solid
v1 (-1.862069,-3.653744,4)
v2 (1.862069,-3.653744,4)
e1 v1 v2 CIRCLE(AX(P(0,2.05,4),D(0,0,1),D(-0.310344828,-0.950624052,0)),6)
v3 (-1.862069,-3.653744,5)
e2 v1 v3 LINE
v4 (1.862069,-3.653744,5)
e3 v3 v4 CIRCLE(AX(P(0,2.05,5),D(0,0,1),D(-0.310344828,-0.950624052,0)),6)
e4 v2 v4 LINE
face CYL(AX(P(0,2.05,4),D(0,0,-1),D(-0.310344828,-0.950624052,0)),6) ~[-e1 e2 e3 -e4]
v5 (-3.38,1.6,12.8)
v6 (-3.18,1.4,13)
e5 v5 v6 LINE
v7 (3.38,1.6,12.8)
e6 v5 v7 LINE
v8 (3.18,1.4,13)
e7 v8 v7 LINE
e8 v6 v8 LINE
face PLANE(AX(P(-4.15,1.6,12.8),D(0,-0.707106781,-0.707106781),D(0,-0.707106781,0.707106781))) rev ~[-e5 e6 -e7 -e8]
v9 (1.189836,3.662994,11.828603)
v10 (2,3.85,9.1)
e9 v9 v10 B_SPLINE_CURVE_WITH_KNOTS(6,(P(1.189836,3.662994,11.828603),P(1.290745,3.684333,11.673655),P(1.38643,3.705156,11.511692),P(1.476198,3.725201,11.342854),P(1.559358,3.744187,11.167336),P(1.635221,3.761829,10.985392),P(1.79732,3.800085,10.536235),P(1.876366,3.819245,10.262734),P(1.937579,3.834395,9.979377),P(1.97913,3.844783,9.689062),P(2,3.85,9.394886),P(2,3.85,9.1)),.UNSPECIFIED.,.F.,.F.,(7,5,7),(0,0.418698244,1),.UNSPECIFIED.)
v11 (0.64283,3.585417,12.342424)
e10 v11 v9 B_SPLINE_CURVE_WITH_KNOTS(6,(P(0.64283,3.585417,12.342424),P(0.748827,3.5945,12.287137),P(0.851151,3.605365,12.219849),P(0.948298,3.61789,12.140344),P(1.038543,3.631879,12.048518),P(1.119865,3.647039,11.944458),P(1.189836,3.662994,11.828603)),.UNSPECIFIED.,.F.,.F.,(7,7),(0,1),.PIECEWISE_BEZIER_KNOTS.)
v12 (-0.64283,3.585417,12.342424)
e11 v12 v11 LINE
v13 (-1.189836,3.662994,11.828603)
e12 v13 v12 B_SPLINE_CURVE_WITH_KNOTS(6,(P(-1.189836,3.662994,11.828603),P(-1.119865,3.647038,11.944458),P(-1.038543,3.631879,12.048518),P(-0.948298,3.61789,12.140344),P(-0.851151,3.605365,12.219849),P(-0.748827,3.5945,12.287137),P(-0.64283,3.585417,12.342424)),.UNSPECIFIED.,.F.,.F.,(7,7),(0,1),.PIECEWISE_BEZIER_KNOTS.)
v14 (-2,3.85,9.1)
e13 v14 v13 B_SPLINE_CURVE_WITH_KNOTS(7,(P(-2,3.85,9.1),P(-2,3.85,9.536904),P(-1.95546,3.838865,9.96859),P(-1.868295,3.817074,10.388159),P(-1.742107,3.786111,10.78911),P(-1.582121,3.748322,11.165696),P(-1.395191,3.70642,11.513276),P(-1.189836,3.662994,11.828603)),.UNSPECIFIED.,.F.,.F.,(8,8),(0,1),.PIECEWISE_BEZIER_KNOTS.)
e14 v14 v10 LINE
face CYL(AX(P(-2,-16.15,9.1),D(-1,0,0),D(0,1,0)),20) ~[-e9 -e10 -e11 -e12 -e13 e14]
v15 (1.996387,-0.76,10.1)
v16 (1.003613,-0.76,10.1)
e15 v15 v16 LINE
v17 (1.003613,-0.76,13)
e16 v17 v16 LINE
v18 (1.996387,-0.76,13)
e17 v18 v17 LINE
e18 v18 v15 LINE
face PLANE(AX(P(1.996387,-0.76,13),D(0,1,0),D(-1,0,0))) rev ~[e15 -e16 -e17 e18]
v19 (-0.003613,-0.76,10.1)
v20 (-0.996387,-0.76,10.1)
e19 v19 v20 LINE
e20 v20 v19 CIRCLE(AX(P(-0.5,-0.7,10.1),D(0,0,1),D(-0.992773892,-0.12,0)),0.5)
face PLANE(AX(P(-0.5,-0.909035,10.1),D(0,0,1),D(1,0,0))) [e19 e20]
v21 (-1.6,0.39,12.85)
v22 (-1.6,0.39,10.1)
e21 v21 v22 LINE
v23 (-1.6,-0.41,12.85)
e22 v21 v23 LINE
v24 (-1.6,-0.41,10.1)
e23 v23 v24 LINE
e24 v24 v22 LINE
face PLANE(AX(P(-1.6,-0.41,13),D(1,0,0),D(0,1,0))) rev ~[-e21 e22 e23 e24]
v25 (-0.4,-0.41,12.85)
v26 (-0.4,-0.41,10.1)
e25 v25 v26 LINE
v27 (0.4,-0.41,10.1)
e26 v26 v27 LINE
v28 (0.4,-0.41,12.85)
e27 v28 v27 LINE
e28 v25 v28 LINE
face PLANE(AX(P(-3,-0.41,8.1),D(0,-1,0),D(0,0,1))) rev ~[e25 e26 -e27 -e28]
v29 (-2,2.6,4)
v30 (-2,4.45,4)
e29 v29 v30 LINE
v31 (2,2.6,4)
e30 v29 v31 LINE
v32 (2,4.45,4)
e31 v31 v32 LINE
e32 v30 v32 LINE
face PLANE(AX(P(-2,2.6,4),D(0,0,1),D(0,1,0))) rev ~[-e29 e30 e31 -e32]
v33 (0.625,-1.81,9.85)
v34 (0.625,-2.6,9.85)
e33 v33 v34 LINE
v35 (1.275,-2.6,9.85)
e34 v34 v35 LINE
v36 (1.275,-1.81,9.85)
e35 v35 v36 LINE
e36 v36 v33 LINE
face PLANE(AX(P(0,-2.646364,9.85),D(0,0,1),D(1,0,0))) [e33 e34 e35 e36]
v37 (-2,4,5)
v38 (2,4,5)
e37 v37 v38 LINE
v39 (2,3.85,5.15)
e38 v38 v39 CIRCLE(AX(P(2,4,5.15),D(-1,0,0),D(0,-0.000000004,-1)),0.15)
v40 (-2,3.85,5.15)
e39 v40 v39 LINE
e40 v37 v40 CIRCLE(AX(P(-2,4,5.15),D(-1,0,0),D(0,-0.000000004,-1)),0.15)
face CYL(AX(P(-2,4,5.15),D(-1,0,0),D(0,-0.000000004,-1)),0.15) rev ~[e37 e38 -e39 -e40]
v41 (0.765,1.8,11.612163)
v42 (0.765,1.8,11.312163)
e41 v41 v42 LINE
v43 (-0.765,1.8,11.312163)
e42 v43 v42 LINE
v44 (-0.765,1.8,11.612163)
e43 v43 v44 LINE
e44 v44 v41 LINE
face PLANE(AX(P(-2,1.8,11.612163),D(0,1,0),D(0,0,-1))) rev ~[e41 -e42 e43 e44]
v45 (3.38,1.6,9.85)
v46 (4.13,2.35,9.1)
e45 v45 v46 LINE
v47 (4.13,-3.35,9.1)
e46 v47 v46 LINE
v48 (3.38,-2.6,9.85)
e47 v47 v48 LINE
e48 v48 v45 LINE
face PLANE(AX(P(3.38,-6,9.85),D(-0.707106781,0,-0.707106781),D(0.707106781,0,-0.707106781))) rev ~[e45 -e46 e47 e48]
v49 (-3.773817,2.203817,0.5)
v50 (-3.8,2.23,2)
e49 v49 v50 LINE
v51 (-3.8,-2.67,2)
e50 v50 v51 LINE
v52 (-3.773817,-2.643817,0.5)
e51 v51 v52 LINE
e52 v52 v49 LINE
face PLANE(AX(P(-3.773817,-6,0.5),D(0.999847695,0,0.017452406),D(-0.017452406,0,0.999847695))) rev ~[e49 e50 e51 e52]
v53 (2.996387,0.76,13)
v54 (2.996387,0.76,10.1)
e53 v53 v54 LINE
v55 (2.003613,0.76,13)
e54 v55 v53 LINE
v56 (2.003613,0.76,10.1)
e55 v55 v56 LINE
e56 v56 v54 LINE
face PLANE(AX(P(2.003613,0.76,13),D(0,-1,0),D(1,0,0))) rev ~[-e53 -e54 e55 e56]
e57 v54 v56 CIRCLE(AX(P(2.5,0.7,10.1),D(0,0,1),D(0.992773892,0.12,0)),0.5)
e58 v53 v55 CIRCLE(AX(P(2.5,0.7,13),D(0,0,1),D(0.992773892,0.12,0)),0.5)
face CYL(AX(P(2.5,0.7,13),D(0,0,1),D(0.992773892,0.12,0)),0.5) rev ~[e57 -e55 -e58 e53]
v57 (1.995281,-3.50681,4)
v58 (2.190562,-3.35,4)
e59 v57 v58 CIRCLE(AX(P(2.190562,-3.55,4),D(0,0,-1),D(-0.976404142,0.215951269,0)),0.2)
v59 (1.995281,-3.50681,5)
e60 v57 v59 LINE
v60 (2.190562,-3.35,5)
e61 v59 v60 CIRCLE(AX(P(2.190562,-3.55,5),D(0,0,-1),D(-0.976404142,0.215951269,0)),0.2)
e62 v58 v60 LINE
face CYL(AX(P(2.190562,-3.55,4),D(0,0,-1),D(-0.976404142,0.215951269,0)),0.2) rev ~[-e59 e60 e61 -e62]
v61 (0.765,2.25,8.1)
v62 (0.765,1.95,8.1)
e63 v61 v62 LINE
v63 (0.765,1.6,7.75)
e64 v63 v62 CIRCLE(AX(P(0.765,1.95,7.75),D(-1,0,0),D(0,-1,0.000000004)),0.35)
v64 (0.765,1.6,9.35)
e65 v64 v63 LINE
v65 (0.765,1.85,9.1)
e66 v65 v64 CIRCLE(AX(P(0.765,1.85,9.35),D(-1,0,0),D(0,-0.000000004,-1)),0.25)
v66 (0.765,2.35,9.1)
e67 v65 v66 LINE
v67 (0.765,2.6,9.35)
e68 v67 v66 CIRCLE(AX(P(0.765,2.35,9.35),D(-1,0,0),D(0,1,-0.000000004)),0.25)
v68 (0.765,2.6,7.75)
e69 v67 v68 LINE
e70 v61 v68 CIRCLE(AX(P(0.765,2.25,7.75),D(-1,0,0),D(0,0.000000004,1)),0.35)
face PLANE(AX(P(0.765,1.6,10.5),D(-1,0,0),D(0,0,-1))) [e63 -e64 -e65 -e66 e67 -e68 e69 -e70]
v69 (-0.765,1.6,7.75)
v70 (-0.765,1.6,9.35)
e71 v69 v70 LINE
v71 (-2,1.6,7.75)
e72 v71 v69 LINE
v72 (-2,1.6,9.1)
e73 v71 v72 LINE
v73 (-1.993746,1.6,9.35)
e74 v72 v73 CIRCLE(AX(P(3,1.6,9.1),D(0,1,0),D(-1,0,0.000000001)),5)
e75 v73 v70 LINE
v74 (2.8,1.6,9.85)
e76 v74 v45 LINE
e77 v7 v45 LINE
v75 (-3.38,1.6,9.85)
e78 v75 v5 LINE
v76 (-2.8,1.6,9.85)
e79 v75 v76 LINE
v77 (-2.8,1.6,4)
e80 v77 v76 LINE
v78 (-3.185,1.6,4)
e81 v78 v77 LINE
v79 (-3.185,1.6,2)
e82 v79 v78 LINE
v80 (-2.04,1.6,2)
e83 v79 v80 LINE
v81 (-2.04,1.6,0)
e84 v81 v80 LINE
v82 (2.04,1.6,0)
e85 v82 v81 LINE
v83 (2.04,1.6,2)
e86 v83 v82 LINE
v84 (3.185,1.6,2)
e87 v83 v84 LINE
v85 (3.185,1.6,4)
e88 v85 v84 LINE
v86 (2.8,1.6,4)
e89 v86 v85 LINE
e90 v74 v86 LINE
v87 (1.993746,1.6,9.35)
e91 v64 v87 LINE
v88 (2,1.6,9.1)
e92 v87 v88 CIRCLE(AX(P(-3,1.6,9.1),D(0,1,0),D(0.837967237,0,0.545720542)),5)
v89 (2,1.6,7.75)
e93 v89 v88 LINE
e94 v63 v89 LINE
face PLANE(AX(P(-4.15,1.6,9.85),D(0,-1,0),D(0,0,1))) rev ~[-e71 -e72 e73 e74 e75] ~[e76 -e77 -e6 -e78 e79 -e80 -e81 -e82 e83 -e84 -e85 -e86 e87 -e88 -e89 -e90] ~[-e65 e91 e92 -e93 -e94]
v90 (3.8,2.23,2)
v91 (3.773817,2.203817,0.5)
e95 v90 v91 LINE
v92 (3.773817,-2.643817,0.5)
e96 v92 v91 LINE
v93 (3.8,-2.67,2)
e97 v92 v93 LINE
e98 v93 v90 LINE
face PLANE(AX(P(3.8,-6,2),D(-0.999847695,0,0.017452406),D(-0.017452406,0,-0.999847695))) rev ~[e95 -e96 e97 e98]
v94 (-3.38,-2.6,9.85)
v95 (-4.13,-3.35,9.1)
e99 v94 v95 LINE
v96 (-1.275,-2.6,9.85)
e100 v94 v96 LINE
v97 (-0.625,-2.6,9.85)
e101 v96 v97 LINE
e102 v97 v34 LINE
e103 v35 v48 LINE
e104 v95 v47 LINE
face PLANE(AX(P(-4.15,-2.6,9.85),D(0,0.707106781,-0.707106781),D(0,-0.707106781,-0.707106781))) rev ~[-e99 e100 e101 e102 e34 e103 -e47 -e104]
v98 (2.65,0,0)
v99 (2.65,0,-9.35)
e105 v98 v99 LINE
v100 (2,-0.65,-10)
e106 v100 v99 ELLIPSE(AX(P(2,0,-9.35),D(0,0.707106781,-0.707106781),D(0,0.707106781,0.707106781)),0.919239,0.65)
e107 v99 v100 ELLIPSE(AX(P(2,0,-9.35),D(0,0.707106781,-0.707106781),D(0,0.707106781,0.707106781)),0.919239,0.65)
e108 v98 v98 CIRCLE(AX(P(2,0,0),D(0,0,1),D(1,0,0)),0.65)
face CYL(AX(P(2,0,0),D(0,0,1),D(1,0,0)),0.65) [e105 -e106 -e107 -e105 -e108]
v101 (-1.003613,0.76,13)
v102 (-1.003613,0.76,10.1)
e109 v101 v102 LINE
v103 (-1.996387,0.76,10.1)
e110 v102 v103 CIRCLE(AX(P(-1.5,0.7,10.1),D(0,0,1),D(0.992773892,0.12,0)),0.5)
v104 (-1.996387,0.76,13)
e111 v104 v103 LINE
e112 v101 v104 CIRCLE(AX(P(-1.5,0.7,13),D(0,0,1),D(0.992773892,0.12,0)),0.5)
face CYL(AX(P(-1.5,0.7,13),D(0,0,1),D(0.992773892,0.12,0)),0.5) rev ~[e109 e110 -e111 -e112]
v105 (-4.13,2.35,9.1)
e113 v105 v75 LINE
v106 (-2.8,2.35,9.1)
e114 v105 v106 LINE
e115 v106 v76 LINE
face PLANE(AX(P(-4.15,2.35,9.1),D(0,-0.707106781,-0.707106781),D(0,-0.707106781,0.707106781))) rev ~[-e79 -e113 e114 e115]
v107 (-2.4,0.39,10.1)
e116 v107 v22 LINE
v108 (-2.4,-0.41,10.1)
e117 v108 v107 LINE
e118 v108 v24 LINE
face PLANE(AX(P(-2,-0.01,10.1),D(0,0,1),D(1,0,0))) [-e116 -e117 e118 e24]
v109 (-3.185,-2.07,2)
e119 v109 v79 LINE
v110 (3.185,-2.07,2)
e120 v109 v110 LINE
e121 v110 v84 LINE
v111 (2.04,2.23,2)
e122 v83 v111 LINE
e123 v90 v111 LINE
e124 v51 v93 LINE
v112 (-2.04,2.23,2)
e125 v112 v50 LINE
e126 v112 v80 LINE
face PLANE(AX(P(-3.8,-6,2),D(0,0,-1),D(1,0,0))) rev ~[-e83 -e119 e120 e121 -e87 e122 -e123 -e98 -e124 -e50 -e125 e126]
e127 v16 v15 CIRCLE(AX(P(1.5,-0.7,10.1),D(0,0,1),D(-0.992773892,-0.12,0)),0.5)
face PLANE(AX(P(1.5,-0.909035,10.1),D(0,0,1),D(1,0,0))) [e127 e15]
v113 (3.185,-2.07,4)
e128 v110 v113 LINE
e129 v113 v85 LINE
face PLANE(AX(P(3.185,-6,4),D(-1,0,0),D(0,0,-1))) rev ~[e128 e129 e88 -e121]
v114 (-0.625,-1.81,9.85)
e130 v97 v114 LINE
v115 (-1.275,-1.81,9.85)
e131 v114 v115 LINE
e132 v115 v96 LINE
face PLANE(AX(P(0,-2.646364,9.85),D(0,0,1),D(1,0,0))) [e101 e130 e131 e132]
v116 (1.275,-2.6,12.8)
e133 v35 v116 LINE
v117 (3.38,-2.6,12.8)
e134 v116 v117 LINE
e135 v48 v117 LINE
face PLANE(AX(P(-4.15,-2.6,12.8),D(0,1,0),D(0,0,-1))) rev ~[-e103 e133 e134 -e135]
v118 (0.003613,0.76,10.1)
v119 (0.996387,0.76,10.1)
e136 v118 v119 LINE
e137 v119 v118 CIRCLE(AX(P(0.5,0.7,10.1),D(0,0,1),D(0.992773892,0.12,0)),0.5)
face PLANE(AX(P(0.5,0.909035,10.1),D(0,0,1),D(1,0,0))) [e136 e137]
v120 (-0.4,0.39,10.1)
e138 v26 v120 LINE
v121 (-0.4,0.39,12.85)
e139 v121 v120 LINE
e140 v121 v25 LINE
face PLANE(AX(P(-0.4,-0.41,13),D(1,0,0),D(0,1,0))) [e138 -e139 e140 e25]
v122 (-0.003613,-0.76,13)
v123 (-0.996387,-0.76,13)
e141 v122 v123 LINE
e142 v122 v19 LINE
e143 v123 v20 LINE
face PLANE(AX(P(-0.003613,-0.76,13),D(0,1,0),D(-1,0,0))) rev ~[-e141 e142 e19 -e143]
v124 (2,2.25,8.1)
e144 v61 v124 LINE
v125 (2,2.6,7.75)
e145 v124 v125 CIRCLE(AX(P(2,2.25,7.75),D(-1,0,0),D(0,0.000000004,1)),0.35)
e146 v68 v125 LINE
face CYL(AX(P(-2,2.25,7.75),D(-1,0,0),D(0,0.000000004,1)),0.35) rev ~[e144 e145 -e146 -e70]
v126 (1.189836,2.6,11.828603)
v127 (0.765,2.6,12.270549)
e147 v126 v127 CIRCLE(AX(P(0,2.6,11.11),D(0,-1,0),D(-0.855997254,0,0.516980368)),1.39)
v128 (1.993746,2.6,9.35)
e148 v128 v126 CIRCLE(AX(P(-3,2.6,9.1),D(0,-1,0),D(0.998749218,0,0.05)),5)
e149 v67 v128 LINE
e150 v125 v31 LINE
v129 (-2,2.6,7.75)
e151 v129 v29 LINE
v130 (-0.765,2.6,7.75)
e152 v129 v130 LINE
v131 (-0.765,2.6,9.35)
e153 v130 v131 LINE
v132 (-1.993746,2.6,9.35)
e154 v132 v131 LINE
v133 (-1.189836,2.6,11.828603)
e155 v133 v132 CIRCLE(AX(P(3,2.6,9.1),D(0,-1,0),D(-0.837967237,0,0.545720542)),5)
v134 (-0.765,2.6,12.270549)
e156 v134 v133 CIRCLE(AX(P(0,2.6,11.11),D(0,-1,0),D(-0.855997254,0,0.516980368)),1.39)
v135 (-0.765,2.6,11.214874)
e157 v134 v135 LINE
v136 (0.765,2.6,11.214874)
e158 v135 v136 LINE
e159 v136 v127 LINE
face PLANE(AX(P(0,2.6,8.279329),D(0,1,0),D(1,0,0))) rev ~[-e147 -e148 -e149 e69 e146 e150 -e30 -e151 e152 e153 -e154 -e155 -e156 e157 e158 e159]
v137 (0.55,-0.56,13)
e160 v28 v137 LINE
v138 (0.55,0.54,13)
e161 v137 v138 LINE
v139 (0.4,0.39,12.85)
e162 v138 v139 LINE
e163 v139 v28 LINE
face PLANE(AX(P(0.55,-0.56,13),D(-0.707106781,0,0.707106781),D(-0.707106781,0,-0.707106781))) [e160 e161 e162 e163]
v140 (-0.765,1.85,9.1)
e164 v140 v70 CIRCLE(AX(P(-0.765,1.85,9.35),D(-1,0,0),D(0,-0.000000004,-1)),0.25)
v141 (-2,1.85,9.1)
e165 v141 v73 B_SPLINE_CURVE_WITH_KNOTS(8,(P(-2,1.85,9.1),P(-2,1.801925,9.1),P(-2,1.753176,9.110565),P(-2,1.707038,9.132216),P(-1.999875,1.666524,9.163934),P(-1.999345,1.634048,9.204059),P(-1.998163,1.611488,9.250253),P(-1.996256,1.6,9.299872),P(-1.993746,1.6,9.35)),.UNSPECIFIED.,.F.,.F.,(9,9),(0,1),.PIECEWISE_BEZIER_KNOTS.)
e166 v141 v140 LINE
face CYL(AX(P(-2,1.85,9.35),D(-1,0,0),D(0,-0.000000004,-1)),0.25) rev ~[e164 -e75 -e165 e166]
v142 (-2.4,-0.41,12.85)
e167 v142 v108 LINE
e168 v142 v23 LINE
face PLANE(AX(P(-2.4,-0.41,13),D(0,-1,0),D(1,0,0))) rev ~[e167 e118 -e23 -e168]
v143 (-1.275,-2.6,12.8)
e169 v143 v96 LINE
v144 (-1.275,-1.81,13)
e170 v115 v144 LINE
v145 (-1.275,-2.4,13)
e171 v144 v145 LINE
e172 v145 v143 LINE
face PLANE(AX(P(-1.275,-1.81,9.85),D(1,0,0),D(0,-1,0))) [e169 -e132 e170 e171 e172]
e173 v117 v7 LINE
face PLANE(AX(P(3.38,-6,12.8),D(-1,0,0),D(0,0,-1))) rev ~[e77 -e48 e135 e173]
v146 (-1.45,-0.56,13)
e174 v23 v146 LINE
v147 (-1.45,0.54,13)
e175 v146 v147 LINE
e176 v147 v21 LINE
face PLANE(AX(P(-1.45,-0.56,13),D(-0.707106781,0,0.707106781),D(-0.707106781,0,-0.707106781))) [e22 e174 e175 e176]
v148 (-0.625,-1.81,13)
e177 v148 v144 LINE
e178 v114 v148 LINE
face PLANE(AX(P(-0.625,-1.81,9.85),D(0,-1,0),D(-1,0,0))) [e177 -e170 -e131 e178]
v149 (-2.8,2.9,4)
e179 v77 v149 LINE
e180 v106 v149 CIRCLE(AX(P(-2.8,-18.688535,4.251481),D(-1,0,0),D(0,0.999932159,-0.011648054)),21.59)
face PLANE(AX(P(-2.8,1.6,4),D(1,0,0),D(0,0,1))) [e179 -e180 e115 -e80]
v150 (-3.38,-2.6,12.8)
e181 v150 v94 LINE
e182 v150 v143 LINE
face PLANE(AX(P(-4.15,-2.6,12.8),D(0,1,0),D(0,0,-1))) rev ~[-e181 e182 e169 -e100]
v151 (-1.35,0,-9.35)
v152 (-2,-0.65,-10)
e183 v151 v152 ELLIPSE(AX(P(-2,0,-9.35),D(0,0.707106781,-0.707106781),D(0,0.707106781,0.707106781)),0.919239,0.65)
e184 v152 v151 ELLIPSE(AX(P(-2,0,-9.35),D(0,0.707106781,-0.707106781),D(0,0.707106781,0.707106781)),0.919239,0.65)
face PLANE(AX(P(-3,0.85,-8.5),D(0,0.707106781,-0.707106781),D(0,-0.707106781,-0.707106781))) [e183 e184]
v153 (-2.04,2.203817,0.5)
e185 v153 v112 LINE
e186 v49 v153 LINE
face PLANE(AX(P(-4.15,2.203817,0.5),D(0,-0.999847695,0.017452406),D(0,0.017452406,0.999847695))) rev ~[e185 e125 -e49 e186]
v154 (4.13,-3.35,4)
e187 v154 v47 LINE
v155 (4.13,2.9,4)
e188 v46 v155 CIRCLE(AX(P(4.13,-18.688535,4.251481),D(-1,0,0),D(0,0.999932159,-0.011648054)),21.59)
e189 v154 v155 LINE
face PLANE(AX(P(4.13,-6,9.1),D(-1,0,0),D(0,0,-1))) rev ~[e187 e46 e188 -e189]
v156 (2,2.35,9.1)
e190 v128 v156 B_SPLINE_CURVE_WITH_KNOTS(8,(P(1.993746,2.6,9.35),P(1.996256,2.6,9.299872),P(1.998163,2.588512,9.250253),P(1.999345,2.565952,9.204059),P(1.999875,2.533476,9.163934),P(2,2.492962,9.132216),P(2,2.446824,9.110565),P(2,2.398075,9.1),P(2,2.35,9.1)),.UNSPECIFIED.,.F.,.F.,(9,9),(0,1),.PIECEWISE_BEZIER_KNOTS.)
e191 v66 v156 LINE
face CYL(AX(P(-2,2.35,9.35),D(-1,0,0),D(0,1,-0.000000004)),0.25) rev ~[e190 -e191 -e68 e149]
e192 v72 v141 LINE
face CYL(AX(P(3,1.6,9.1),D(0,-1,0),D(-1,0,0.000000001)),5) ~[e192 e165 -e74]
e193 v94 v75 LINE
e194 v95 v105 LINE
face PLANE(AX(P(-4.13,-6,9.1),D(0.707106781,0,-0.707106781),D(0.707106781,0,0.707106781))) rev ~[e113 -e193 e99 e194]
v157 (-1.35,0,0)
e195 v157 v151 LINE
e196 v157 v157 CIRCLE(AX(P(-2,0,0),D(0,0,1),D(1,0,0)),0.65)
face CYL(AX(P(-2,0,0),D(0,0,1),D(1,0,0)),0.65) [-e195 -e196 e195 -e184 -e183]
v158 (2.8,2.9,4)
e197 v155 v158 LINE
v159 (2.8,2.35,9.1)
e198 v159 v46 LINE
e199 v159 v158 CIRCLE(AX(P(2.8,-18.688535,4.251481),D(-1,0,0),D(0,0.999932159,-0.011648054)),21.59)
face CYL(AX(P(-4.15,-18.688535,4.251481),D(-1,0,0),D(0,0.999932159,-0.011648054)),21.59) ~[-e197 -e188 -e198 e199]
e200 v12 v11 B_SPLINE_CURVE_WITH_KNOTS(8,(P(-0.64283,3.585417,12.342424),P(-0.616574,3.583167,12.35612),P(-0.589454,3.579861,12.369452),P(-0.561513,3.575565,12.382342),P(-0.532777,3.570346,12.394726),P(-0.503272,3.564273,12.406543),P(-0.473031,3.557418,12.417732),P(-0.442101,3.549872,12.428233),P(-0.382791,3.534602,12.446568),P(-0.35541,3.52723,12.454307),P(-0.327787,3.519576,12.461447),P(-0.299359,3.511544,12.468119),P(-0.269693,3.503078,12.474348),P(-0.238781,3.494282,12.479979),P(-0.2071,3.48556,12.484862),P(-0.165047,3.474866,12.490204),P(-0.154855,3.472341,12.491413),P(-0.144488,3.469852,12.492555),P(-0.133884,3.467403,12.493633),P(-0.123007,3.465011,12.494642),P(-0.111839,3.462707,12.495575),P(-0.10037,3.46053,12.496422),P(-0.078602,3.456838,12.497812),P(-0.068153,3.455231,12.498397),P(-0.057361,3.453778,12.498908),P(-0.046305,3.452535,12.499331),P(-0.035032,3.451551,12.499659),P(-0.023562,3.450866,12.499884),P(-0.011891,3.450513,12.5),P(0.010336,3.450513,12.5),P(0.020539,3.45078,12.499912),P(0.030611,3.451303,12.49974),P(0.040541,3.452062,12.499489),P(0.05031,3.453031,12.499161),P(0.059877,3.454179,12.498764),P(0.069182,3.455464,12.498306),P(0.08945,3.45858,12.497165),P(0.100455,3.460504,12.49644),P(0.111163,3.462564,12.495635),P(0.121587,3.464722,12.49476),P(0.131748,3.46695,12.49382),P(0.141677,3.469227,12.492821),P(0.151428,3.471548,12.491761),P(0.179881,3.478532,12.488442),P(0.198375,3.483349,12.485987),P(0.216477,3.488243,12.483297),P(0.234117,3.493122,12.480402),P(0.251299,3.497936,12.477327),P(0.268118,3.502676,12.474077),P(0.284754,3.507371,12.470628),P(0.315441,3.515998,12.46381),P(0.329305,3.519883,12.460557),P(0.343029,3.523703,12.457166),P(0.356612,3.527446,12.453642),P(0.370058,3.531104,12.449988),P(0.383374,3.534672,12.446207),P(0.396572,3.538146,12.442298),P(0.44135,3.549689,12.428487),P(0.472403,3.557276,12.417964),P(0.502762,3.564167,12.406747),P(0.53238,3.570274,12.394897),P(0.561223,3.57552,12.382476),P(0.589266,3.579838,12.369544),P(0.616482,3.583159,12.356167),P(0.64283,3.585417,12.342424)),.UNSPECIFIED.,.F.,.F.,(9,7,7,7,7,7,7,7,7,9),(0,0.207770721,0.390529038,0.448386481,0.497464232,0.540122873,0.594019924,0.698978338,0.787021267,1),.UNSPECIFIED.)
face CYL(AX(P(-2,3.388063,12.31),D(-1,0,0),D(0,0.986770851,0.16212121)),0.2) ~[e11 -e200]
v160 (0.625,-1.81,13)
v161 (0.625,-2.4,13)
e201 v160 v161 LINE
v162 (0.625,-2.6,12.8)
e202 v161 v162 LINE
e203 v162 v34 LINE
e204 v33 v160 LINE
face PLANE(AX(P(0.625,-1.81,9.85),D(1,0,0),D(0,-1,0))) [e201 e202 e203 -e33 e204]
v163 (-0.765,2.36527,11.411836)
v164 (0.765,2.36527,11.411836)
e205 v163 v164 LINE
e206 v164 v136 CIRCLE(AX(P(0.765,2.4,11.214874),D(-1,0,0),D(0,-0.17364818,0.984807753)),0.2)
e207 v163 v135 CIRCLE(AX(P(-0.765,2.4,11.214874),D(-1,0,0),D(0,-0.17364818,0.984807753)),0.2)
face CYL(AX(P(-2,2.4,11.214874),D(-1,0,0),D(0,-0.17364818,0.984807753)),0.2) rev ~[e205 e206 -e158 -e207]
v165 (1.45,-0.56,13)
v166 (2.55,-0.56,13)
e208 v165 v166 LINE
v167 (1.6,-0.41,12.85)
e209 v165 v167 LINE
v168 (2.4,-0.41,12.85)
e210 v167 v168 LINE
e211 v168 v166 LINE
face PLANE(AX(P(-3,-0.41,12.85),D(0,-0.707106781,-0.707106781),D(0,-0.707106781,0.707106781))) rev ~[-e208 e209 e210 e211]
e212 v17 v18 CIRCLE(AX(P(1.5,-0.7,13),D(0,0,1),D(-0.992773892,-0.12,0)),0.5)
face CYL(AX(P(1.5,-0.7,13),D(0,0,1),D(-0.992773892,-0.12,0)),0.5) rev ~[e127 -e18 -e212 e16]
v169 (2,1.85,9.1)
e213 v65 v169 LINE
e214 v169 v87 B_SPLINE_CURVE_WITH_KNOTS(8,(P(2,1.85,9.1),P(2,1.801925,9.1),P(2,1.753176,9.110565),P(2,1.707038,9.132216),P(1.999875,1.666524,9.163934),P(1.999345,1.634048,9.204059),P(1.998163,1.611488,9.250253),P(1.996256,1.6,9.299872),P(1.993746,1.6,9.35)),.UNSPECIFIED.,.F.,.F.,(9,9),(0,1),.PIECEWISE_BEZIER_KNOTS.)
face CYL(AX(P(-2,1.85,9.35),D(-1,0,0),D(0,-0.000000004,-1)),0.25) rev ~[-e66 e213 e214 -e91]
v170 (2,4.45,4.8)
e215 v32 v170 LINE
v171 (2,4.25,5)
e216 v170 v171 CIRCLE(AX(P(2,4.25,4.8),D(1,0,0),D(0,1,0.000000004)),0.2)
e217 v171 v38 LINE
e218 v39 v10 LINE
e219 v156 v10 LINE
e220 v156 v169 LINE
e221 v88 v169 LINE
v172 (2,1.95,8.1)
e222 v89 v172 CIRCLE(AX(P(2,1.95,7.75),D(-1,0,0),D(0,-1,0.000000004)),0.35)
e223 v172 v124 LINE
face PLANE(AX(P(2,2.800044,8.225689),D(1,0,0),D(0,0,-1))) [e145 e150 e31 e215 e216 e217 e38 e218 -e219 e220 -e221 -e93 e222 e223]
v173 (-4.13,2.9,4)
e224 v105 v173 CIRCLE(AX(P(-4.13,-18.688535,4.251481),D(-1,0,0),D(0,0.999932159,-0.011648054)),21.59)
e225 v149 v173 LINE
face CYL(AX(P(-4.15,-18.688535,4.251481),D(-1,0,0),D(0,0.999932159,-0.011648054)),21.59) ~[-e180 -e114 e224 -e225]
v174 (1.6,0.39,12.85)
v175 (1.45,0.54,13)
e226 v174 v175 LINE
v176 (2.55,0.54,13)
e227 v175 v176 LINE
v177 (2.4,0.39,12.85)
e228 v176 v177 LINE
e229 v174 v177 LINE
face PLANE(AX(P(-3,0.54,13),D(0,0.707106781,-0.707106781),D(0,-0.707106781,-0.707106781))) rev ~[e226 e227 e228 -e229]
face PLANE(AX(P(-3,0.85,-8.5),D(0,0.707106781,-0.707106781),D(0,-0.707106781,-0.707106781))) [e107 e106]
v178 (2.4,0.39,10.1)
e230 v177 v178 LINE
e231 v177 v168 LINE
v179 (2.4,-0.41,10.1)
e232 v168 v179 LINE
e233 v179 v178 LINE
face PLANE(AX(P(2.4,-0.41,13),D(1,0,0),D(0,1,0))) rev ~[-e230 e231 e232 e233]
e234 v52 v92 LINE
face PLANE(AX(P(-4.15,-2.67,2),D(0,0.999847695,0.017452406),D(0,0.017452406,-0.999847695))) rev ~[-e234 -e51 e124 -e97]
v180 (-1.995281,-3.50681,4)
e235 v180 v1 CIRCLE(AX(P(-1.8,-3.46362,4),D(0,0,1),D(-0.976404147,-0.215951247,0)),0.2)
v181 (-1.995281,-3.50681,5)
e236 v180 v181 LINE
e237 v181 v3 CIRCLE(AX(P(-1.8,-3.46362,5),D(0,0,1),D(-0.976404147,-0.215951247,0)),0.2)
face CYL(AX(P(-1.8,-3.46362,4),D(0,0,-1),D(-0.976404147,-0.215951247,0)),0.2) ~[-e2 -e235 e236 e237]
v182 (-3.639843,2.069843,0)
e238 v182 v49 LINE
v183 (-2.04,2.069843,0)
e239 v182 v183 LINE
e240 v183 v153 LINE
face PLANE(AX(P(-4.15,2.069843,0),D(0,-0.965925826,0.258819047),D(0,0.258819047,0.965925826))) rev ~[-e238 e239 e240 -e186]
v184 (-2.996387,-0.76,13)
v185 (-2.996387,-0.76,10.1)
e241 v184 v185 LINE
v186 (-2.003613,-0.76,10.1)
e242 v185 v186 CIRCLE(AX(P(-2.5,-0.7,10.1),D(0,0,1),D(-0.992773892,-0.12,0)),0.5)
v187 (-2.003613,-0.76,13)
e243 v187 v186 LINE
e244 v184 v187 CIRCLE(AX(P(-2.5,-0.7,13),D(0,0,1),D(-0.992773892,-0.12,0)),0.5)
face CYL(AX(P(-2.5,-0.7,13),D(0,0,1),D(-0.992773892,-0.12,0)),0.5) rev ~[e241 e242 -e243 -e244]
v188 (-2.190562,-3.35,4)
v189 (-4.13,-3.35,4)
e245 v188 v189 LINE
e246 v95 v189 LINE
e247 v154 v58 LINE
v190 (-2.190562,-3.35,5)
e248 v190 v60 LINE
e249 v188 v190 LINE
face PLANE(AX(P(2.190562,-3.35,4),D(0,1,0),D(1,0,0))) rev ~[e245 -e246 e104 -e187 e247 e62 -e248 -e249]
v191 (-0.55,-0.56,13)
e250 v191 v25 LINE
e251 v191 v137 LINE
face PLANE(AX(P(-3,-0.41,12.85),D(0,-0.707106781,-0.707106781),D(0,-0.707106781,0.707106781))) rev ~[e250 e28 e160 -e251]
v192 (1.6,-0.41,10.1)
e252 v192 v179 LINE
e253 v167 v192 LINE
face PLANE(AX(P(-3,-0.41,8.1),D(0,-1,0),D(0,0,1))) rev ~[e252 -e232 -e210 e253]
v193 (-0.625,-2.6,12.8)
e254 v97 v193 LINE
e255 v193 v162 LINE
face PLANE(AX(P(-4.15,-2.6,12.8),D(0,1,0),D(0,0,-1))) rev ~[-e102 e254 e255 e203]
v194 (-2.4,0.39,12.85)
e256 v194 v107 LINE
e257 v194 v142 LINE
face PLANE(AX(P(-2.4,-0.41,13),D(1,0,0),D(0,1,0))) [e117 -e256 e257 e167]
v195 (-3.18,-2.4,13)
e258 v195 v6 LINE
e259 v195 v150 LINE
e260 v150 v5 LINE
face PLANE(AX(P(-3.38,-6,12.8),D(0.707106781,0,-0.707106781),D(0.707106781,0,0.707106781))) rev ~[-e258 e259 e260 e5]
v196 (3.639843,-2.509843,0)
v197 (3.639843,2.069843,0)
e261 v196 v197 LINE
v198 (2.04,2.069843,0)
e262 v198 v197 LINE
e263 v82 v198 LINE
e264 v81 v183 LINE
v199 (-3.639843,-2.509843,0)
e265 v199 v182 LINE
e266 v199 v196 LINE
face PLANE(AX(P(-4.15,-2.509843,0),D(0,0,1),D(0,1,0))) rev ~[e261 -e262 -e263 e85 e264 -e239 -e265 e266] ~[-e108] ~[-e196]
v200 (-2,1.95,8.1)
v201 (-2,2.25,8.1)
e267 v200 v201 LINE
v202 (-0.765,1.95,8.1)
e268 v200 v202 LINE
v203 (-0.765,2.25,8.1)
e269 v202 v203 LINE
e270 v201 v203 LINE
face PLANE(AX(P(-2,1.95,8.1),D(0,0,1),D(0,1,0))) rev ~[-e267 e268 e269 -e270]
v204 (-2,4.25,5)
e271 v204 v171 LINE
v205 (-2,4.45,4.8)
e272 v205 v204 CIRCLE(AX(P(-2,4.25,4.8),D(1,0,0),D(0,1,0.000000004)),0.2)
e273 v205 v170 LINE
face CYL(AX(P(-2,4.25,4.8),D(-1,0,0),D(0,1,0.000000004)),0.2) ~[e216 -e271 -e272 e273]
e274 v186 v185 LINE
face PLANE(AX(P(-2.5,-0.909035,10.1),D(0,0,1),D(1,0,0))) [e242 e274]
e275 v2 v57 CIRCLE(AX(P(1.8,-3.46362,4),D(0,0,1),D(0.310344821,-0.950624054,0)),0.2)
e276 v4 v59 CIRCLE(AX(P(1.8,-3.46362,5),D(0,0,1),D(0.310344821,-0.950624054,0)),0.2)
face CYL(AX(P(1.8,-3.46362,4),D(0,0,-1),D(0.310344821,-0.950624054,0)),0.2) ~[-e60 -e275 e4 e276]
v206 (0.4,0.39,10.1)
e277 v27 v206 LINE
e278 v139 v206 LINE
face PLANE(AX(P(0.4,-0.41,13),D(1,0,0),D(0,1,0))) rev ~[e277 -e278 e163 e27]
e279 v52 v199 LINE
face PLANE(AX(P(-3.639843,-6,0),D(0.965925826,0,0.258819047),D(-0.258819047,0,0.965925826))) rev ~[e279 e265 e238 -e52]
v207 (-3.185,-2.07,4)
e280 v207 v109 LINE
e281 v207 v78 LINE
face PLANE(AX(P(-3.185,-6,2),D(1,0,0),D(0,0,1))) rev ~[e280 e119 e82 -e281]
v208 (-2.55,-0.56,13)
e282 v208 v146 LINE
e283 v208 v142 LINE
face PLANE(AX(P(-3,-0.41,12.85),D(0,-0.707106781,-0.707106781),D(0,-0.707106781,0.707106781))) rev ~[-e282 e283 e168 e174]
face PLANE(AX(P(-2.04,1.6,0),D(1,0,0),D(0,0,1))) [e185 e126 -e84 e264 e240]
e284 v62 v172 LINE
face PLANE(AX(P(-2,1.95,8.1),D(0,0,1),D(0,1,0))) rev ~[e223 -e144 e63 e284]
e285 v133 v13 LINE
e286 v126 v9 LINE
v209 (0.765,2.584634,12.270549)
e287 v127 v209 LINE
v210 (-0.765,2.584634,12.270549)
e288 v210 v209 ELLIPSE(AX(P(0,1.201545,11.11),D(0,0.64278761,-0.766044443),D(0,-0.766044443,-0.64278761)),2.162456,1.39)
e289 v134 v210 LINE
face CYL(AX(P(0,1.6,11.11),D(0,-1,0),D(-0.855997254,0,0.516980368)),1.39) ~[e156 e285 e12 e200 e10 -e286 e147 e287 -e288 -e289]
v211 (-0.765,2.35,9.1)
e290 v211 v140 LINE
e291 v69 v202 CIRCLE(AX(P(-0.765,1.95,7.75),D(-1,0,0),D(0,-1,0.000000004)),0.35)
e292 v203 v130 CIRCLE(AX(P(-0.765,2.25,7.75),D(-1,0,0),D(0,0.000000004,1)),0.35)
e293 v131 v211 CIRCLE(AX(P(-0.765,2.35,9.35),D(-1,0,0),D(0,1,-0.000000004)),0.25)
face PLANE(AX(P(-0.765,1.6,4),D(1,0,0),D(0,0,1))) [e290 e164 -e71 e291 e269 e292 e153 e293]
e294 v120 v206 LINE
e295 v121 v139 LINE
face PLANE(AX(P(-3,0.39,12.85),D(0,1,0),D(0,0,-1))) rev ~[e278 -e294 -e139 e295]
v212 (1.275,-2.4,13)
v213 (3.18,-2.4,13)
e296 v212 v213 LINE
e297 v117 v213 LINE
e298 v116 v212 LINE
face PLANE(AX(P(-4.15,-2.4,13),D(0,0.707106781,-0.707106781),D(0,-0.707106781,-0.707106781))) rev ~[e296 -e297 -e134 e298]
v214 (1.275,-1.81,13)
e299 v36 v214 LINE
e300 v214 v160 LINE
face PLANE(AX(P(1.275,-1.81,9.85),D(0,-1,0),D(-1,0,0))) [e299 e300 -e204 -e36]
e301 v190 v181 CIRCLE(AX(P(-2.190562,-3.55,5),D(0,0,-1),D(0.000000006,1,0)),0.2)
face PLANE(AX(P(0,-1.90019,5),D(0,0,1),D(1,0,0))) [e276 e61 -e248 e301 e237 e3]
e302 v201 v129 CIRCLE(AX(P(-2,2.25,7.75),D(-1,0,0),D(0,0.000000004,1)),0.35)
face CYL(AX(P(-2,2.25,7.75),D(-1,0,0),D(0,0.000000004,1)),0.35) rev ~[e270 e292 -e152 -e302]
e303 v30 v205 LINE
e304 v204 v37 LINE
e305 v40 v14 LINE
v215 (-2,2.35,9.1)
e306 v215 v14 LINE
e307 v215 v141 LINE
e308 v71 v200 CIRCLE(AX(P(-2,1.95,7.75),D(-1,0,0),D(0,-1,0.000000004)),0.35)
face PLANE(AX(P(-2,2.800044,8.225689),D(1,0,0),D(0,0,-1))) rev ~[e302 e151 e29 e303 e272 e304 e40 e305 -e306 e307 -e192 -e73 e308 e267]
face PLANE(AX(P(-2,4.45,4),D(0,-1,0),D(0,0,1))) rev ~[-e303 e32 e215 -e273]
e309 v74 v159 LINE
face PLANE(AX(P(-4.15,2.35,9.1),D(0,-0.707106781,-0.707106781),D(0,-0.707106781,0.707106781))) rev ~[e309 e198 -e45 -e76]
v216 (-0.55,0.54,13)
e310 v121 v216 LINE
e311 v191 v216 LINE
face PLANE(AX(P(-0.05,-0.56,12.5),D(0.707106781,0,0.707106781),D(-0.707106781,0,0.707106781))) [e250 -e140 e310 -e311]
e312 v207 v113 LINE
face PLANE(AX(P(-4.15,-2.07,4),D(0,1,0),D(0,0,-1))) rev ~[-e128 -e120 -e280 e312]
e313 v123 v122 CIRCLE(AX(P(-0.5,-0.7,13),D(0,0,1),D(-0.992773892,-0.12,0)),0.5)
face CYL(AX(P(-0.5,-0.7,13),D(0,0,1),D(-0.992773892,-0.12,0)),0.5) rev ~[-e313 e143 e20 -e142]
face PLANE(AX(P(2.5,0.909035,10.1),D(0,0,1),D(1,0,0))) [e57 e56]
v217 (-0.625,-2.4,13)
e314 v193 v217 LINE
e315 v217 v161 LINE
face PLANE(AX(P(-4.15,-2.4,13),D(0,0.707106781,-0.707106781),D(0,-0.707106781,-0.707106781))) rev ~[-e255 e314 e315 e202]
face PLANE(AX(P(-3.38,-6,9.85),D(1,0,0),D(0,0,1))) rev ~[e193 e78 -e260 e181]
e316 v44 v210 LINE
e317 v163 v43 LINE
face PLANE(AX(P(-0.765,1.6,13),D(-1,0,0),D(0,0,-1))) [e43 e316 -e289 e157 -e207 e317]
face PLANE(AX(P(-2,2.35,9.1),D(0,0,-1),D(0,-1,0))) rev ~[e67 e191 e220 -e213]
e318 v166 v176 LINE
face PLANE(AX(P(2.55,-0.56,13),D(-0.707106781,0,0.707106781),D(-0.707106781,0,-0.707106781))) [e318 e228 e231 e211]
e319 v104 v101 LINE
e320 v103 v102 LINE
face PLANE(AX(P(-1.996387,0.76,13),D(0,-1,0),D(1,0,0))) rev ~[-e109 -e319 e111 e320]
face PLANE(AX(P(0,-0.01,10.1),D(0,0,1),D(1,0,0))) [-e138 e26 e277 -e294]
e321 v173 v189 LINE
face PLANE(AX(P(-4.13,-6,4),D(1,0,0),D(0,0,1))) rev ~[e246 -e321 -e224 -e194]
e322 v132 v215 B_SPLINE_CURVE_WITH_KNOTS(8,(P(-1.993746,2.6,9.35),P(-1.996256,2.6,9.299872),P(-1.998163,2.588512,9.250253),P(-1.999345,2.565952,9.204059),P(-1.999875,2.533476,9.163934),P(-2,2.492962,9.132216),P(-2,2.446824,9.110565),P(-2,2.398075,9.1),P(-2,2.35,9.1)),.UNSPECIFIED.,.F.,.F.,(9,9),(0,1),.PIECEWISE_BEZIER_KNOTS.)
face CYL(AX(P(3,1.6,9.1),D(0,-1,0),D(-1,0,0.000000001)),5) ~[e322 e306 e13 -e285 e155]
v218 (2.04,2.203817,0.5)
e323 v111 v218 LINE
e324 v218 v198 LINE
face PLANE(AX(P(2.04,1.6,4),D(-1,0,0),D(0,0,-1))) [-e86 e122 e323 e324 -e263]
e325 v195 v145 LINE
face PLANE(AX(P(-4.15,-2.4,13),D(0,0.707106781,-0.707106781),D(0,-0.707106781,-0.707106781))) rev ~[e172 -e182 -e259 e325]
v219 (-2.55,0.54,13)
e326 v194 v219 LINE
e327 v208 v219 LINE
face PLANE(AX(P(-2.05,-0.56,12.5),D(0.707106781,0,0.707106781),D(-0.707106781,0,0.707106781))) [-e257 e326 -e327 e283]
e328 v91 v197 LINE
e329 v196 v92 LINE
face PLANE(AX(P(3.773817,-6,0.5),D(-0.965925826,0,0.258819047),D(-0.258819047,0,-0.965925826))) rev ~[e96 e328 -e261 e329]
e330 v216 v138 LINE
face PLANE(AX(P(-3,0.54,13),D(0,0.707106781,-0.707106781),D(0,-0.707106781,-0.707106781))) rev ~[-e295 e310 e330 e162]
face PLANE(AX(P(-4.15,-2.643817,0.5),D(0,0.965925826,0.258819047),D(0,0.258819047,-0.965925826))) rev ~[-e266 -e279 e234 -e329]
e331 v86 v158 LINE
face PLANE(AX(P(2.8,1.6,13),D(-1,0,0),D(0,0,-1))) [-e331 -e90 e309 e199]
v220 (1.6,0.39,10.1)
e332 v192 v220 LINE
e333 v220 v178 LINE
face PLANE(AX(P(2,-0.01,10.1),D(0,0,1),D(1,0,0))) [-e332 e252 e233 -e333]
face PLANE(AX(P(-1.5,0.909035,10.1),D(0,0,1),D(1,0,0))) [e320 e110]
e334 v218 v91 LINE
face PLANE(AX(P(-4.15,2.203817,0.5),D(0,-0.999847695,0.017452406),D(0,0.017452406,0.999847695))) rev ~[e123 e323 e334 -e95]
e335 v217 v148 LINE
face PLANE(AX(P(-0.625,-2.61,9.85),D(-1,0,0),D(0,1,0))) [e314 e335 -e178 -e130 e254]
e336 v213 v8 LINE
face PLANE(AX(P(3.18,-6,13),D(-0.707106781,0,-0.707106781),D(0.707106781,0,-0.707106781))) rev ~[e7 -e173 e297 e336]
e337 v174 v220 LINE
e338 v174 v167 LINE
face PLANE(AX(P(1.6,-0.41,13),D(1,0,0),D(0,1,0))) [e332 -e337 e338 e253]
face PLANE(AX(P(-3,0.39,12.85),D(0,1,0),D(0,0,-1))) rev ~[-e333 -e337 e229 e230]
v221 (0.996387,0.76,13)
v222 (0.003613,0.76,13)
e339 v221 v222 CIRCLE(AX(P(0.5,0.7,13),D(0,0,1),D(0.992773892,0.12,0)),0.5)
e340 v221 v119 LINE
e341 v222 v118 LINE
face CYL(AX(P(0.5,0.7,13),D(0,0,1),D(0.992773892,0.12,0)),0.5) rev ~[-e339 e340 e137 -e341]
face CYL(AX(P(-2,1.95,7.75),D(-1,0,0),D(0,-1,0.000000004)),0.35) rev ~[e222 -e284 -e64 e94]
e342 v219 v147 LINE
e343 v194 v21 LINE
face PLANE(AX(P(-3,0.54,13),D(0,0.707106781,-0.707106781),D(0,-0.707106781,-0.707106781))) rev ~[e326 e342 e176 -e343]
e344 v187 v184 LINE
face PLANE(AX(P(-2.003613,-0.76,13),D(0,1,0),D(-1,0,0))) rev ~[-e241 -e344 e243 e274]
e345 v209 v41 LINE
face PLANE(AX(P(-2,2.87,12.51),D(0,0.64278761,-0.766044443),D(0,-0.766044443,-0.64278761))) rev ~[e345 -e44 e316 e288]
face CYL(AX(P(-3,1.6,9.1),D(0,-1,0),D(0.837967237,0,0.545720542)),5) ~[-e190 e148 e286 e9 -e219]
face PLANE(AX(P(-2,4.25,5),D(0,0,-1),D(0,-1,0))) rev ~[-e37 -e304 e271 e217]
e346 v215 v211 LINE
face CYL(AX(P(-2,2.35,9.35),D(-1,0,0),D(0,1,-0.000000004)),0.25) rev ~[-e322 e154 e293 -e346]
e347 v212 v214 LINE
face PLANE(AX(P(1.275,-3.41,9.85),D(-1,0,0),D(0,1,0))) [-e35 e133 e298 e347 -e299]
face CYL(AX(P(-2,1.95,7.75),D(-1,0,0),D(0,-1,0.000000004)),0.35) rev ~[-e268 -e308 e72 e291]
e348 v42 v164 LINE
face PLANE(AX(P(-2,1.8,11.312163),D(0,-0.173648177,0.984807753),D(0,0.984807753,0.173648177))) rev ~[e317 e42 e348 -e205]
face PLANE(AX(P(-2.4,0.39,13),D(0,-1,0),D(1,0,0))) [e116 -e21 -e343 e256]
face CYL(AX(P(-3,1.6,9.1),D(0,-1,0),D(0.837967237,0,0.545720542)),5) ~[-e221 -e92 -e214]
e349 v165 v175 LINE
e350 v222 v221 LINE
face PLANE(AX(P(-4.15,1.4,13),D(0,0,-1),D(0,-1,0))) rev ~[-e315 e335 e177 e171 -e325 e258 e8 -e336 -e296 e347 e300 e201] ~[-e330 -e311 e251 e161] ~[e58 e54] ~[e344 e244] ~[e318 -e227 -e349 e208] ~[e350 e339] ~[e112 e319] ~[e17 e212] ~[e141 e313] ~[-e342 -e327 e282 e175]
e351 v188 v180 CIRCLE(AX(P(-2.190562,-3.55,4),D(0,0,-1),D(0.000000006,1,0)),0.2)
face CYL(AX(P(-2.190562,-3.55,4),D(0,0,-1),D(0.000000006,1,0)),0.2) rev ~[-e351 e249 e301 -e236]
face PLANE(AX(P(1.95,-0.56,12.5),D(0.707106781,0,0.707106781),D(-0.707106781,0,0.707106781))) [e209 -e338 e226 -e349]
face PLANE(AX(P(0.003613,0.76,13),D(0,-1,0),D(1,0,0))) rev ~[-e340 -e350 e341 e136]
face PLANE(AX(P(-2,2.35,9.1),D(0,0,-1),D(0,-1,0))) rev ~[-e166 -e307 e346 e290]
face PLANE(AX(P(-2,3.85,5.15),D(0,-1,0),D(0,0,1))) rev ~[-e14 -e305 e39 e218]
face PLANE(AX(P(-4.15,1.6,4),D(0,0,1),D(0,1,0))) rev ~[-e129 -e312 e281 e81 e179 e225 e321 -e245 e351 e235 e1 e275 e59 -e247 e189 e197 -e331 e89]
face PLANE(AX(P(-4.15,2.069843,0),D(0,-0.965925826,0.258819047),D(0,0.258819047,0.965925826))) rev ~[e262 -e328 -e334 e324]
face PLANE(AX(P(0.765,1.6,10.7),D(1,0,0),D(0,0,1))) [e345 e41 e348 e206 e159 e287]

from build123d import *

# Parameters (mm, degrees)
BOSS_EXTRUDE1_DEPTH      = 4.15
BOSS_EXTRUDE1_DEPTH_BACK = 4.15
CUT_EXTRUDE1_DEPTH       = 6
CUT_EXTRUDE1_DEPTH_BACK  = 6
SKETCH2_W                = 10
SKETCH2_H                = 15
CUT_EXTRUDE2_DEPTH       = 2
BOSS_EXTRUDE2_DEPTH      = 2
BOSS_EXTRUDE2_DEPTH_BACK = 2
SKETCH5_W                = 4.4
SKETCH5_H                = 9
CUT_EXTRUDE3_DEPTH       = 3
CUT_EXTRUDE4_DEPTH       = 1
BOSS_EXTRUDE3_DEPTH      = 1
CUT_EXTRUDE5_DEPTH       = 3.2
SKETCH9_W                = 0.8
SKETCH9_H                = 0.8
CUT_EXTRUDE6_DEPTH       = 2.9
SKETCH10_W               = 0.8
SKETCH10_H               = 0.8
CUT_EXTRUDE7_DEPTH       = 2.9
SKETCH11_W               = 0.8
SKETCH11_H               = 0.8
CUT_EXTRUDE8_DEPTH       = 2.9
CUT_EXTRUDE9_DEPTH       = 2.9
CUT_EXTRUDE10_DEPTH      = 2.9
CUT_EXTRUDE11_DEPTH      = 2.9
CUT_EXTRUDE12_DEPTH      = 2.9
CUT_EXTRUDE13_DEPTH      = 2.9
CUT_EXTRUDE14_DEPTH      = 2.9
CUT_EXTRUDE15_DEPTH      = 1.1
BOSS_EXTRUDE4_DEPTH      = 3
BOSS_EXTRUDE4_DEPTH_BACK = 3
SKETCH20_R               = 0.65
BOSS_EXTRUDE5_DEPTH      = 10
SKETCH21_R               = 0.65
BOSS_EXTRUDE6_DEPTH      = 10
CUT_EXTRUDE16_DEPTH      = 3
CUT_EXTRUDE16_DEPTH_BACK = 3


with BuildPart() as part:
    # Sketch1 → Boss-Extrude1 (new, two sides: drawn at the far end of the back side and taken through both)
    with BuildSketch(Plane(origin=(0, 0, 0), x_dir=(0, 0, -1), z_dir=(1, 0, 0)).offset(-BOSS_EXTRUDE1_DEPTH_BACK)):
        with BuildLine():
            Line((-13, 1.4), (-13, -2.4))
            Line((-13, -2.4), (-12.8, -2.6))
            Line((-12.8, -2.6), (-9.85, -2.6))
            Line((-9.85, -2.6), (-9.1, -3.35))
            Line((-9.1, -3.35), (-4, -3.35))
            Line((-4, -3.35), (-4, -2.07))
            Line((-4, -2.07), (-2, -2.07))
            Line((-2, -2.07), (-2, -2.67))
            Line((-2, -2.67), (-0.5, -2.643817403))
            Line((-0.5, -2.643817403), (0, -2.509842806))
            Line((0, -2.509842806), (0, 2.069842806))
            Line((0, 2.069842806), (-0.5, 2.203817403))
            Line((-0.5, 2.203817403), (-2, 2.23))
            Line((-2, 2.23), (-2, 1.6))
            Line((-2, 1.6), (-4, 1.6))
            Line((-4, 1.6), (-4, 2.9))
            ThreePointArc((-4, 2.9), (-6.566392361, 2.777001893), (-9.1, 2.35))
            Line((-9.1, 2.35), (-9.85, 1.6))
            Line((-9.85, 1.6), (-12.8, 1.6))
            Line((-12.8, 1.6), (-13, 1.4))
        make_face()
    extrude(amount=BOSS_EXTRUDE1_DEPTH + BOSS_EXTRUDE1_DEPTH_BACK)

    # Sketch2 → Cut-Extrude1 (cut, two sides: drawn at the far end of the back side and taken through both)
    with BuildSketch(Plane(origin=(0, 0, 0), x_dir=(1, 0, 0), z_dir=(0, 1, 0)).offset(-CUT_EXTRUDE1_DEPTH_BACK)):
        with Locations((0, -6.5)):
            Rectangle(SKETCH2_W, SKETCH2_H)
        Polygon((-4.13, -9.1), (-3.38, -9.85), (-3.38, -12.8), (-3.18, -13), (3.18, -13), (3.38, -12.8), (3.38, -9.85), (4.13, -9.1), (4.13, -4), (3.185, -4), (3.185, -2), (3.8, -2), (3.773817403, -0.5), (3.639842806, 0), (-3.639842806, 0), (-3.773817403, -0.5), (-3.8, -2), (-3.185, -2), (-3.185, -4), (-4.13, -4), align=None, mode=Mode.SUBTRACT)
    extrude(amount=CUT_EXTRUDE1_DEPTH + CUT_EXTRUDE1_DEPTH_BACK, mode=Mode.SUBTRACT)

    # Sketch3 → Cut-Extrude2 (cut)
    with BuildSketch(Plane(origin=(0, 1.6, 0), x_dir=(1, 0, 0), z_dir=(0, 1, 0))):
        Polygon((-2.8, -4), (-2.8, -13), (2.8, -13), (2.8, -4), (2.04, -4), (2.04, 0), (-2.04, 0), (-2.04, -4), align=None)
    extrude(amount=CUT_EXTRUDE2_DEPTH, mode=Mode.SUBTRACT)

    # Sketch4 → Boss-Extrude2 (add, two sides: drawn at the far end of the back side and taken through both)
    with BuildSketch(Plane(origin=(0, 0, 0), x_dir=(0, 0, -1), z_dir=(1, 0, 0)).offset(-BOSS_EXTRUDE2_DEPTH_BACK)):
        with BuildLine():
            Line((-12.51, 3.388062852), (-12.51, 2.87))
            Line((-12.51, 2.87), (-11.612163395, 1.8))
            Line((-11.612163395, 1.8), (-11.312163395, 1.8))
            Line((-11.312163395, 1.8), (-11.411835811, 2.365270364))
            ThreePointArc((-11.411835811, 2.365270364), (-11.368083149, 2.528557522), (-11.214874261, 2.6))
            Line((-11.214874261, 2.6), (-9.35, 2.6))
            ThreePointArc((-9.35, 2.6), (-9.173223305, 2.526776695), (-9.1, 2.35))
            Line((-9.1, 2.35), (-9.1, 1.85))
            ThreePointArc((-9.1, 1.85), (-9.173223305, 1.673223305), (-9.35, 1.6))
            Line((-9.35, 1.6), (-9.35, 0.6))
            Line((-9.35, 0.6), (-7.75, 0.6))
            Line((-7.75, 0.6), (-7.75, 1.6))
            ThreePointArc((-7.75, 1.6), (-7.997487373, 1.702512627), (-8.1, 1.95))
            Line((-8.1, 1.95), (-8.1, 2.25))
            ThreePointArc((-8.1, 2.25), (-7.997487373, 2.497487373), (-7.75, 2.6))
            Line((-7.75, 2.6), (-4, 2.6))
            Line((-4, 2.6), (-4, 4.45))
            Line((-4, 4.45), (-4.8, 4.45))
            ThreePointArc((-4.8, 4.45), (-4.941421356, 4.391421356), (-5, 4.25))
            Line((-5, 4.25), (-5, 4))
            ThreePointArc((-5, 4), (-5.043933983, 3.893933983), (-5.15, 3.85))
            Line((-5.15, 3.85), (-9.1, 3.85))
            ThreePointArc((-9.1, 3.85), (-10.726600682, 3.783744511), (-12.342424242, 3.585417022))
            ThreePointArc((-12.342424242, 3.585417022), (-12.462454663, 3.517513907), (-12.51, 3.388062852))
        make_face()
    extrude(amount=BOSS_EXTRUDE2_DEPTH + BOSS_EXTRUDE2_DEPTH_BACK)

    # Sketch5 → Cut-Extrude3 (cut)
    with BuildSketch(Plane(origin=(0, 1.6, 0), x_dir=(1, 0, 0), z_dir=(0, 1, 0))):
        with Locations((0, -8.3)):
            Rectangle(SKETCH5_W, SKETCH5_H)
        with BuildLine():
            Line((2, -9.1), (2, -4))
            Line((2, -4), (-2, -4))
            Line((-2, -4), (-2, -9.1))
            ThreePointArc((-2, -9.1), (-1.793181663, -10.523168838), (-1.189836183, -11.828602712))
            ThreePointArc((-1.189836183, -11.828602712), (0, -12.5), (1.189836183, -11.828602712))
            ThreePointArc((1.189836183, -11.828602712), (1.793181663, -10.523168838), (2, -9.1))
        make_face(mode=Mode.SUBTRACT)
    extrude(amount=CUT_EXTRUDE3_DEPTH, mode=Mode.SUBTRACT)

    # Sketch6 → Cut-Extrude4 (cut)
    with BuildSketch(Plane(origin=(0, 1.6, 0), x_dir=(1, 0, 0), z_dir=(0, 1, 0))):
        Polygon((-2, -10.5), (-2, -13), (-0.765, -13), (-0.765, -10.7), (0.765, -10.7), (0.765, -13), (2, -13), (2, -10.5), (0.765, -10.5), (0.765, -4), (2, -4), (2, -3), (-2, -3), (-2, -4), (-0.765, -4), (-0.765, -10.5), align=None)
    extrude(amount=CUT_EXTRUDE4_DEPTH, mode=Mode.SUBTRACT)

    # Sketch7 → Boss-Extrude3 (add)
    with BuildSketch(Plane.XY.offset(4)):
        with BuildLine():
            Line((-2.3, -3.35), (-2.190561659, -3.35))
            ThreePointArc((-2.190561659, -3.35), (-2.065337959, -3.394054417), (-1.995280829, -3.50680975))
            ThreePointArc((-1.995280829, -3.50680975), (-1.948171085, -3.597952406), (-1.862068966, -3.653744311))
            ThreePointArc((-1.862068966, -3.653744311), (0, -3.95), (1.862068966, -3.653744311))
            ThreePointArc((1.862068966, -3.653744311), (1.948171087, -3.597952405), (1.99528083, -3.506809747))
            ThreePointArc((1.99528083, -3.506809747), (2.06533796, -3.394054416), (2.190561659, -3.35))
            Line((2.190561659, -3.35), (2.3, -3.35))
            Line((2.3, -3.35), (2, 0))
            Line((2, 0), (-2, 0))
            Line((-2, 0), (-2.3, -3.35))
        make_face()
    extrude(amount=BOSS_EXTRUDE3_DEPTH)

    # Sketch8 → Cut-Extrude5 (cut)
    with BuildSketch(Plane.XY.offset(9.85)):
        Polygon((-1.275, -1.81), (-1.275, -3.41), (1.275, -3.41), (1.275, -1.81), (0.625, -1.81), (0.625, -2.61), (-0.625, -2.61), (-0.625, -1.81), align=None)
    extrude(amount=CUT_EXTRUDE5_DEPTH, mode=Mode.SUBTRACT)

    # Sketch9 → Cut-Extrude6 (cut)
    with BuildSketch(Plane.XY.offset(13)):
        with Locations((-2, -0.01)):
            Rectangle(SKETCH9_W, SKETCH9_H)
    extrude(amount=-CUT_EXTRUDE6_DEPTH, mode=Mode.SUBTRACT)

    # Sketch10 → Cut-Extrude7 (cut)
    with BuildSketch(Plane.XY.offset(13)):
        with Locations((0, -0.01)):
            Rectangle(SKETCH10_W, SKETCH10_H)
    extrude(amount=-CUT_EXTRUDE7_DEPTH, mode=Mode.SUBTRACT)

    # Sketch11 → Cut-Extrude8 (cut)
    with BuildSketch(Plane.XY.offset(13)):
        with Locations((2, -0.01)):
            Rectangle(SKETCH11_W, SKETCH11_H)
    extrude(amount=-CUT_EXTRUDE8_DEPTH, mode=Mode.SUBTRACT)

    # Sketch12 → Cut-Extrude9 (cut)
    with BuildSketch(Plane.XY.offset(13)):
        with BuildLine():
            Line((-2.003613054, -0.76), (-2.996386946, -0.76))
            ThreePointArc((-2.996386946, -0.76), (-2.5, -1.2), (-2.003613054, -0.76))
        make_face()
    extrude(amount=-CUT_EXTRUDE9_DEPTH, mode=Mode.SUBTRACT)

    # Sketch13 → Cut-Extrude10 (cut)
    with BuildSketch(Plane.XY.offset(13)):
        with BuildLine():
            Line((0.003613054, 0.76), (0.996386946, 0.76))
            ThreePointArc((0.996386946, 0.76), (0.5, 1.2), (0.003613054, 0.76))
        make_face()
    extrude(amount=-CUT_EXTRUDE10_DEPTH, mode=Mode.SUBTRACT)

    # Sketch14 → Cut-Extrude11 (cut)
    with BuildSketch(Plane.XY.offset(13)):
        with BuildLine():
            Line((2.003613054, 0.76), (2.996386946, 0.76))
            ThreePointArc((2.996386946, 0.76), (2.5, 1.2), (2.003613054, 0.76))
        make_face()
    extrude(amount=-CUT_EXTRUDE11_DEPTH, mode=Mode.SUBTRACT)

    # Sketch15 → Cut-Extrude12 (cut)
    with BuildSketch(Plane.XY.offset(13)):
        with BuildLine():
            Line((-1.996386946, 0.76), (-1.003613054, 0.76))
            ThreePointArc((-1.003613054, 0.76), (-1.5, 1.2), (-1.996386946, 0.76))
        make_face()
    extrude(amount=-CUT_EXTRUDE12_DEPTH, mode=Mode.SUBTRACT)

    # Sketch16 → Cut-Extrude13 (cut)
    with BuildSketch(Plane.XY.offset(13)):
        with BuildLine():
            Line((-0.003613054, -0.76), (-0.996386946, -0.76))
            ThreePointArc((-0.996386946, -0.76), (-0.5, -1.2), (-0.003613054, -0.76))
        make_face()
    extrude(amount=-CUT_EXTRUDE13_DEPTH, mode=Mode.SUBTRACT)

    # Sketch17 → Cut-Extrude14 (cut)
    with BuildSketch(Plane.XY.offset(13)):
        with BuildLine():
            Line((1.996386946, -0.76), (1.003613054, -0.76))
            ThreePointArc((1.003613054, -0.76), (1.5, -1.2), (1.996386946, -0.76))
        make_face()
    extrude(amount=-CUT_EXTRUDE14_DEPTH, mode=Mode.SUBTRACT)

    # Sketch18 → Cut-Extrude15 (cut)
    with BuildSketch(Plane(origin=(0, -0.56, 0), x_dir=(1, 0, 0), z_dir=(0, 1, 0))):
        Polygon((-2.55, -13), (-2.55, -13.5), (2.55, -13.5), (2.55, -13), (2.05, -12.5), (1.95, -12.5), (1.45, -13), (0.55, -13), (0.05, -12.5), (-0.05, -12.5), (-0.55, -13), (-1.45, -13), (-1.95, -12.5), (-2.05, -12.5), align=None)
    extrude(amount=CUT_EXTRUDE15_DEPTH, mode=Mode.SUBTRACT)

    # Sketch19 → Boss-Extrude4 (add, two sides: drawn at the far end of the back side and taken through both)
    with BuildSketch(Plane(origin=(0, 0, 0), x_dir=(0, 0, -1), z_dir=(1, 0, 0)).offset(-BOSS_EXTRUDE4_DEPTH_BACK)):
        Polygon((-13, 0.54), (-12.85, 0.39), (-8.1, 0.39), (-8.1, -0.41), (-12.85, -0.41), (-13, -0.56), (-8, -0.56), (-8, 0.54), align=None)
    extrude(amount=BOSS_EXTRUDE4_DEPTH + BOSS_EXTRUDE4_DEPTH_BACK)

    # Sketch20 → Boss-Extrude5 (add)
    with BuildSketch(Plane.XY):
        with Locations((2, 0)):
            Circle(SKETCH20_R)
    extrude(amount=-BOSS_EXTRUDE5_DEPTH)

    # Sketch21 → Boss-Extrude6 (add)
    with BuildSketch(Plane.XY):
        with Locations((-2, 0)):
            Circle(SKETCH21_R)
    extrude(amount=-BOSS_EXTRUDE6_DEPTH)

    # Sketch22 → Cut-Extrude16 (cut, two sides: drawn at the far end of the back side and taken through both)
    with BuildSketch(Plane(origin=(0, 0, 0), x_dir=(0, 0, -1), z_dir=(1, 0, 0)).offset(-CUT_EXTRUDE16_DEPTH_BACK)):
        Polygon((8.5, 0.85), (10, -0.65), (10, 0.85), align=None)
    extrude(amount=CUT_EXTRUDE16_DEPTH + CUT_EXTRUDE16_DEPTH_BACK, mode=Mode.SUBTRACT)


solid = part.part
